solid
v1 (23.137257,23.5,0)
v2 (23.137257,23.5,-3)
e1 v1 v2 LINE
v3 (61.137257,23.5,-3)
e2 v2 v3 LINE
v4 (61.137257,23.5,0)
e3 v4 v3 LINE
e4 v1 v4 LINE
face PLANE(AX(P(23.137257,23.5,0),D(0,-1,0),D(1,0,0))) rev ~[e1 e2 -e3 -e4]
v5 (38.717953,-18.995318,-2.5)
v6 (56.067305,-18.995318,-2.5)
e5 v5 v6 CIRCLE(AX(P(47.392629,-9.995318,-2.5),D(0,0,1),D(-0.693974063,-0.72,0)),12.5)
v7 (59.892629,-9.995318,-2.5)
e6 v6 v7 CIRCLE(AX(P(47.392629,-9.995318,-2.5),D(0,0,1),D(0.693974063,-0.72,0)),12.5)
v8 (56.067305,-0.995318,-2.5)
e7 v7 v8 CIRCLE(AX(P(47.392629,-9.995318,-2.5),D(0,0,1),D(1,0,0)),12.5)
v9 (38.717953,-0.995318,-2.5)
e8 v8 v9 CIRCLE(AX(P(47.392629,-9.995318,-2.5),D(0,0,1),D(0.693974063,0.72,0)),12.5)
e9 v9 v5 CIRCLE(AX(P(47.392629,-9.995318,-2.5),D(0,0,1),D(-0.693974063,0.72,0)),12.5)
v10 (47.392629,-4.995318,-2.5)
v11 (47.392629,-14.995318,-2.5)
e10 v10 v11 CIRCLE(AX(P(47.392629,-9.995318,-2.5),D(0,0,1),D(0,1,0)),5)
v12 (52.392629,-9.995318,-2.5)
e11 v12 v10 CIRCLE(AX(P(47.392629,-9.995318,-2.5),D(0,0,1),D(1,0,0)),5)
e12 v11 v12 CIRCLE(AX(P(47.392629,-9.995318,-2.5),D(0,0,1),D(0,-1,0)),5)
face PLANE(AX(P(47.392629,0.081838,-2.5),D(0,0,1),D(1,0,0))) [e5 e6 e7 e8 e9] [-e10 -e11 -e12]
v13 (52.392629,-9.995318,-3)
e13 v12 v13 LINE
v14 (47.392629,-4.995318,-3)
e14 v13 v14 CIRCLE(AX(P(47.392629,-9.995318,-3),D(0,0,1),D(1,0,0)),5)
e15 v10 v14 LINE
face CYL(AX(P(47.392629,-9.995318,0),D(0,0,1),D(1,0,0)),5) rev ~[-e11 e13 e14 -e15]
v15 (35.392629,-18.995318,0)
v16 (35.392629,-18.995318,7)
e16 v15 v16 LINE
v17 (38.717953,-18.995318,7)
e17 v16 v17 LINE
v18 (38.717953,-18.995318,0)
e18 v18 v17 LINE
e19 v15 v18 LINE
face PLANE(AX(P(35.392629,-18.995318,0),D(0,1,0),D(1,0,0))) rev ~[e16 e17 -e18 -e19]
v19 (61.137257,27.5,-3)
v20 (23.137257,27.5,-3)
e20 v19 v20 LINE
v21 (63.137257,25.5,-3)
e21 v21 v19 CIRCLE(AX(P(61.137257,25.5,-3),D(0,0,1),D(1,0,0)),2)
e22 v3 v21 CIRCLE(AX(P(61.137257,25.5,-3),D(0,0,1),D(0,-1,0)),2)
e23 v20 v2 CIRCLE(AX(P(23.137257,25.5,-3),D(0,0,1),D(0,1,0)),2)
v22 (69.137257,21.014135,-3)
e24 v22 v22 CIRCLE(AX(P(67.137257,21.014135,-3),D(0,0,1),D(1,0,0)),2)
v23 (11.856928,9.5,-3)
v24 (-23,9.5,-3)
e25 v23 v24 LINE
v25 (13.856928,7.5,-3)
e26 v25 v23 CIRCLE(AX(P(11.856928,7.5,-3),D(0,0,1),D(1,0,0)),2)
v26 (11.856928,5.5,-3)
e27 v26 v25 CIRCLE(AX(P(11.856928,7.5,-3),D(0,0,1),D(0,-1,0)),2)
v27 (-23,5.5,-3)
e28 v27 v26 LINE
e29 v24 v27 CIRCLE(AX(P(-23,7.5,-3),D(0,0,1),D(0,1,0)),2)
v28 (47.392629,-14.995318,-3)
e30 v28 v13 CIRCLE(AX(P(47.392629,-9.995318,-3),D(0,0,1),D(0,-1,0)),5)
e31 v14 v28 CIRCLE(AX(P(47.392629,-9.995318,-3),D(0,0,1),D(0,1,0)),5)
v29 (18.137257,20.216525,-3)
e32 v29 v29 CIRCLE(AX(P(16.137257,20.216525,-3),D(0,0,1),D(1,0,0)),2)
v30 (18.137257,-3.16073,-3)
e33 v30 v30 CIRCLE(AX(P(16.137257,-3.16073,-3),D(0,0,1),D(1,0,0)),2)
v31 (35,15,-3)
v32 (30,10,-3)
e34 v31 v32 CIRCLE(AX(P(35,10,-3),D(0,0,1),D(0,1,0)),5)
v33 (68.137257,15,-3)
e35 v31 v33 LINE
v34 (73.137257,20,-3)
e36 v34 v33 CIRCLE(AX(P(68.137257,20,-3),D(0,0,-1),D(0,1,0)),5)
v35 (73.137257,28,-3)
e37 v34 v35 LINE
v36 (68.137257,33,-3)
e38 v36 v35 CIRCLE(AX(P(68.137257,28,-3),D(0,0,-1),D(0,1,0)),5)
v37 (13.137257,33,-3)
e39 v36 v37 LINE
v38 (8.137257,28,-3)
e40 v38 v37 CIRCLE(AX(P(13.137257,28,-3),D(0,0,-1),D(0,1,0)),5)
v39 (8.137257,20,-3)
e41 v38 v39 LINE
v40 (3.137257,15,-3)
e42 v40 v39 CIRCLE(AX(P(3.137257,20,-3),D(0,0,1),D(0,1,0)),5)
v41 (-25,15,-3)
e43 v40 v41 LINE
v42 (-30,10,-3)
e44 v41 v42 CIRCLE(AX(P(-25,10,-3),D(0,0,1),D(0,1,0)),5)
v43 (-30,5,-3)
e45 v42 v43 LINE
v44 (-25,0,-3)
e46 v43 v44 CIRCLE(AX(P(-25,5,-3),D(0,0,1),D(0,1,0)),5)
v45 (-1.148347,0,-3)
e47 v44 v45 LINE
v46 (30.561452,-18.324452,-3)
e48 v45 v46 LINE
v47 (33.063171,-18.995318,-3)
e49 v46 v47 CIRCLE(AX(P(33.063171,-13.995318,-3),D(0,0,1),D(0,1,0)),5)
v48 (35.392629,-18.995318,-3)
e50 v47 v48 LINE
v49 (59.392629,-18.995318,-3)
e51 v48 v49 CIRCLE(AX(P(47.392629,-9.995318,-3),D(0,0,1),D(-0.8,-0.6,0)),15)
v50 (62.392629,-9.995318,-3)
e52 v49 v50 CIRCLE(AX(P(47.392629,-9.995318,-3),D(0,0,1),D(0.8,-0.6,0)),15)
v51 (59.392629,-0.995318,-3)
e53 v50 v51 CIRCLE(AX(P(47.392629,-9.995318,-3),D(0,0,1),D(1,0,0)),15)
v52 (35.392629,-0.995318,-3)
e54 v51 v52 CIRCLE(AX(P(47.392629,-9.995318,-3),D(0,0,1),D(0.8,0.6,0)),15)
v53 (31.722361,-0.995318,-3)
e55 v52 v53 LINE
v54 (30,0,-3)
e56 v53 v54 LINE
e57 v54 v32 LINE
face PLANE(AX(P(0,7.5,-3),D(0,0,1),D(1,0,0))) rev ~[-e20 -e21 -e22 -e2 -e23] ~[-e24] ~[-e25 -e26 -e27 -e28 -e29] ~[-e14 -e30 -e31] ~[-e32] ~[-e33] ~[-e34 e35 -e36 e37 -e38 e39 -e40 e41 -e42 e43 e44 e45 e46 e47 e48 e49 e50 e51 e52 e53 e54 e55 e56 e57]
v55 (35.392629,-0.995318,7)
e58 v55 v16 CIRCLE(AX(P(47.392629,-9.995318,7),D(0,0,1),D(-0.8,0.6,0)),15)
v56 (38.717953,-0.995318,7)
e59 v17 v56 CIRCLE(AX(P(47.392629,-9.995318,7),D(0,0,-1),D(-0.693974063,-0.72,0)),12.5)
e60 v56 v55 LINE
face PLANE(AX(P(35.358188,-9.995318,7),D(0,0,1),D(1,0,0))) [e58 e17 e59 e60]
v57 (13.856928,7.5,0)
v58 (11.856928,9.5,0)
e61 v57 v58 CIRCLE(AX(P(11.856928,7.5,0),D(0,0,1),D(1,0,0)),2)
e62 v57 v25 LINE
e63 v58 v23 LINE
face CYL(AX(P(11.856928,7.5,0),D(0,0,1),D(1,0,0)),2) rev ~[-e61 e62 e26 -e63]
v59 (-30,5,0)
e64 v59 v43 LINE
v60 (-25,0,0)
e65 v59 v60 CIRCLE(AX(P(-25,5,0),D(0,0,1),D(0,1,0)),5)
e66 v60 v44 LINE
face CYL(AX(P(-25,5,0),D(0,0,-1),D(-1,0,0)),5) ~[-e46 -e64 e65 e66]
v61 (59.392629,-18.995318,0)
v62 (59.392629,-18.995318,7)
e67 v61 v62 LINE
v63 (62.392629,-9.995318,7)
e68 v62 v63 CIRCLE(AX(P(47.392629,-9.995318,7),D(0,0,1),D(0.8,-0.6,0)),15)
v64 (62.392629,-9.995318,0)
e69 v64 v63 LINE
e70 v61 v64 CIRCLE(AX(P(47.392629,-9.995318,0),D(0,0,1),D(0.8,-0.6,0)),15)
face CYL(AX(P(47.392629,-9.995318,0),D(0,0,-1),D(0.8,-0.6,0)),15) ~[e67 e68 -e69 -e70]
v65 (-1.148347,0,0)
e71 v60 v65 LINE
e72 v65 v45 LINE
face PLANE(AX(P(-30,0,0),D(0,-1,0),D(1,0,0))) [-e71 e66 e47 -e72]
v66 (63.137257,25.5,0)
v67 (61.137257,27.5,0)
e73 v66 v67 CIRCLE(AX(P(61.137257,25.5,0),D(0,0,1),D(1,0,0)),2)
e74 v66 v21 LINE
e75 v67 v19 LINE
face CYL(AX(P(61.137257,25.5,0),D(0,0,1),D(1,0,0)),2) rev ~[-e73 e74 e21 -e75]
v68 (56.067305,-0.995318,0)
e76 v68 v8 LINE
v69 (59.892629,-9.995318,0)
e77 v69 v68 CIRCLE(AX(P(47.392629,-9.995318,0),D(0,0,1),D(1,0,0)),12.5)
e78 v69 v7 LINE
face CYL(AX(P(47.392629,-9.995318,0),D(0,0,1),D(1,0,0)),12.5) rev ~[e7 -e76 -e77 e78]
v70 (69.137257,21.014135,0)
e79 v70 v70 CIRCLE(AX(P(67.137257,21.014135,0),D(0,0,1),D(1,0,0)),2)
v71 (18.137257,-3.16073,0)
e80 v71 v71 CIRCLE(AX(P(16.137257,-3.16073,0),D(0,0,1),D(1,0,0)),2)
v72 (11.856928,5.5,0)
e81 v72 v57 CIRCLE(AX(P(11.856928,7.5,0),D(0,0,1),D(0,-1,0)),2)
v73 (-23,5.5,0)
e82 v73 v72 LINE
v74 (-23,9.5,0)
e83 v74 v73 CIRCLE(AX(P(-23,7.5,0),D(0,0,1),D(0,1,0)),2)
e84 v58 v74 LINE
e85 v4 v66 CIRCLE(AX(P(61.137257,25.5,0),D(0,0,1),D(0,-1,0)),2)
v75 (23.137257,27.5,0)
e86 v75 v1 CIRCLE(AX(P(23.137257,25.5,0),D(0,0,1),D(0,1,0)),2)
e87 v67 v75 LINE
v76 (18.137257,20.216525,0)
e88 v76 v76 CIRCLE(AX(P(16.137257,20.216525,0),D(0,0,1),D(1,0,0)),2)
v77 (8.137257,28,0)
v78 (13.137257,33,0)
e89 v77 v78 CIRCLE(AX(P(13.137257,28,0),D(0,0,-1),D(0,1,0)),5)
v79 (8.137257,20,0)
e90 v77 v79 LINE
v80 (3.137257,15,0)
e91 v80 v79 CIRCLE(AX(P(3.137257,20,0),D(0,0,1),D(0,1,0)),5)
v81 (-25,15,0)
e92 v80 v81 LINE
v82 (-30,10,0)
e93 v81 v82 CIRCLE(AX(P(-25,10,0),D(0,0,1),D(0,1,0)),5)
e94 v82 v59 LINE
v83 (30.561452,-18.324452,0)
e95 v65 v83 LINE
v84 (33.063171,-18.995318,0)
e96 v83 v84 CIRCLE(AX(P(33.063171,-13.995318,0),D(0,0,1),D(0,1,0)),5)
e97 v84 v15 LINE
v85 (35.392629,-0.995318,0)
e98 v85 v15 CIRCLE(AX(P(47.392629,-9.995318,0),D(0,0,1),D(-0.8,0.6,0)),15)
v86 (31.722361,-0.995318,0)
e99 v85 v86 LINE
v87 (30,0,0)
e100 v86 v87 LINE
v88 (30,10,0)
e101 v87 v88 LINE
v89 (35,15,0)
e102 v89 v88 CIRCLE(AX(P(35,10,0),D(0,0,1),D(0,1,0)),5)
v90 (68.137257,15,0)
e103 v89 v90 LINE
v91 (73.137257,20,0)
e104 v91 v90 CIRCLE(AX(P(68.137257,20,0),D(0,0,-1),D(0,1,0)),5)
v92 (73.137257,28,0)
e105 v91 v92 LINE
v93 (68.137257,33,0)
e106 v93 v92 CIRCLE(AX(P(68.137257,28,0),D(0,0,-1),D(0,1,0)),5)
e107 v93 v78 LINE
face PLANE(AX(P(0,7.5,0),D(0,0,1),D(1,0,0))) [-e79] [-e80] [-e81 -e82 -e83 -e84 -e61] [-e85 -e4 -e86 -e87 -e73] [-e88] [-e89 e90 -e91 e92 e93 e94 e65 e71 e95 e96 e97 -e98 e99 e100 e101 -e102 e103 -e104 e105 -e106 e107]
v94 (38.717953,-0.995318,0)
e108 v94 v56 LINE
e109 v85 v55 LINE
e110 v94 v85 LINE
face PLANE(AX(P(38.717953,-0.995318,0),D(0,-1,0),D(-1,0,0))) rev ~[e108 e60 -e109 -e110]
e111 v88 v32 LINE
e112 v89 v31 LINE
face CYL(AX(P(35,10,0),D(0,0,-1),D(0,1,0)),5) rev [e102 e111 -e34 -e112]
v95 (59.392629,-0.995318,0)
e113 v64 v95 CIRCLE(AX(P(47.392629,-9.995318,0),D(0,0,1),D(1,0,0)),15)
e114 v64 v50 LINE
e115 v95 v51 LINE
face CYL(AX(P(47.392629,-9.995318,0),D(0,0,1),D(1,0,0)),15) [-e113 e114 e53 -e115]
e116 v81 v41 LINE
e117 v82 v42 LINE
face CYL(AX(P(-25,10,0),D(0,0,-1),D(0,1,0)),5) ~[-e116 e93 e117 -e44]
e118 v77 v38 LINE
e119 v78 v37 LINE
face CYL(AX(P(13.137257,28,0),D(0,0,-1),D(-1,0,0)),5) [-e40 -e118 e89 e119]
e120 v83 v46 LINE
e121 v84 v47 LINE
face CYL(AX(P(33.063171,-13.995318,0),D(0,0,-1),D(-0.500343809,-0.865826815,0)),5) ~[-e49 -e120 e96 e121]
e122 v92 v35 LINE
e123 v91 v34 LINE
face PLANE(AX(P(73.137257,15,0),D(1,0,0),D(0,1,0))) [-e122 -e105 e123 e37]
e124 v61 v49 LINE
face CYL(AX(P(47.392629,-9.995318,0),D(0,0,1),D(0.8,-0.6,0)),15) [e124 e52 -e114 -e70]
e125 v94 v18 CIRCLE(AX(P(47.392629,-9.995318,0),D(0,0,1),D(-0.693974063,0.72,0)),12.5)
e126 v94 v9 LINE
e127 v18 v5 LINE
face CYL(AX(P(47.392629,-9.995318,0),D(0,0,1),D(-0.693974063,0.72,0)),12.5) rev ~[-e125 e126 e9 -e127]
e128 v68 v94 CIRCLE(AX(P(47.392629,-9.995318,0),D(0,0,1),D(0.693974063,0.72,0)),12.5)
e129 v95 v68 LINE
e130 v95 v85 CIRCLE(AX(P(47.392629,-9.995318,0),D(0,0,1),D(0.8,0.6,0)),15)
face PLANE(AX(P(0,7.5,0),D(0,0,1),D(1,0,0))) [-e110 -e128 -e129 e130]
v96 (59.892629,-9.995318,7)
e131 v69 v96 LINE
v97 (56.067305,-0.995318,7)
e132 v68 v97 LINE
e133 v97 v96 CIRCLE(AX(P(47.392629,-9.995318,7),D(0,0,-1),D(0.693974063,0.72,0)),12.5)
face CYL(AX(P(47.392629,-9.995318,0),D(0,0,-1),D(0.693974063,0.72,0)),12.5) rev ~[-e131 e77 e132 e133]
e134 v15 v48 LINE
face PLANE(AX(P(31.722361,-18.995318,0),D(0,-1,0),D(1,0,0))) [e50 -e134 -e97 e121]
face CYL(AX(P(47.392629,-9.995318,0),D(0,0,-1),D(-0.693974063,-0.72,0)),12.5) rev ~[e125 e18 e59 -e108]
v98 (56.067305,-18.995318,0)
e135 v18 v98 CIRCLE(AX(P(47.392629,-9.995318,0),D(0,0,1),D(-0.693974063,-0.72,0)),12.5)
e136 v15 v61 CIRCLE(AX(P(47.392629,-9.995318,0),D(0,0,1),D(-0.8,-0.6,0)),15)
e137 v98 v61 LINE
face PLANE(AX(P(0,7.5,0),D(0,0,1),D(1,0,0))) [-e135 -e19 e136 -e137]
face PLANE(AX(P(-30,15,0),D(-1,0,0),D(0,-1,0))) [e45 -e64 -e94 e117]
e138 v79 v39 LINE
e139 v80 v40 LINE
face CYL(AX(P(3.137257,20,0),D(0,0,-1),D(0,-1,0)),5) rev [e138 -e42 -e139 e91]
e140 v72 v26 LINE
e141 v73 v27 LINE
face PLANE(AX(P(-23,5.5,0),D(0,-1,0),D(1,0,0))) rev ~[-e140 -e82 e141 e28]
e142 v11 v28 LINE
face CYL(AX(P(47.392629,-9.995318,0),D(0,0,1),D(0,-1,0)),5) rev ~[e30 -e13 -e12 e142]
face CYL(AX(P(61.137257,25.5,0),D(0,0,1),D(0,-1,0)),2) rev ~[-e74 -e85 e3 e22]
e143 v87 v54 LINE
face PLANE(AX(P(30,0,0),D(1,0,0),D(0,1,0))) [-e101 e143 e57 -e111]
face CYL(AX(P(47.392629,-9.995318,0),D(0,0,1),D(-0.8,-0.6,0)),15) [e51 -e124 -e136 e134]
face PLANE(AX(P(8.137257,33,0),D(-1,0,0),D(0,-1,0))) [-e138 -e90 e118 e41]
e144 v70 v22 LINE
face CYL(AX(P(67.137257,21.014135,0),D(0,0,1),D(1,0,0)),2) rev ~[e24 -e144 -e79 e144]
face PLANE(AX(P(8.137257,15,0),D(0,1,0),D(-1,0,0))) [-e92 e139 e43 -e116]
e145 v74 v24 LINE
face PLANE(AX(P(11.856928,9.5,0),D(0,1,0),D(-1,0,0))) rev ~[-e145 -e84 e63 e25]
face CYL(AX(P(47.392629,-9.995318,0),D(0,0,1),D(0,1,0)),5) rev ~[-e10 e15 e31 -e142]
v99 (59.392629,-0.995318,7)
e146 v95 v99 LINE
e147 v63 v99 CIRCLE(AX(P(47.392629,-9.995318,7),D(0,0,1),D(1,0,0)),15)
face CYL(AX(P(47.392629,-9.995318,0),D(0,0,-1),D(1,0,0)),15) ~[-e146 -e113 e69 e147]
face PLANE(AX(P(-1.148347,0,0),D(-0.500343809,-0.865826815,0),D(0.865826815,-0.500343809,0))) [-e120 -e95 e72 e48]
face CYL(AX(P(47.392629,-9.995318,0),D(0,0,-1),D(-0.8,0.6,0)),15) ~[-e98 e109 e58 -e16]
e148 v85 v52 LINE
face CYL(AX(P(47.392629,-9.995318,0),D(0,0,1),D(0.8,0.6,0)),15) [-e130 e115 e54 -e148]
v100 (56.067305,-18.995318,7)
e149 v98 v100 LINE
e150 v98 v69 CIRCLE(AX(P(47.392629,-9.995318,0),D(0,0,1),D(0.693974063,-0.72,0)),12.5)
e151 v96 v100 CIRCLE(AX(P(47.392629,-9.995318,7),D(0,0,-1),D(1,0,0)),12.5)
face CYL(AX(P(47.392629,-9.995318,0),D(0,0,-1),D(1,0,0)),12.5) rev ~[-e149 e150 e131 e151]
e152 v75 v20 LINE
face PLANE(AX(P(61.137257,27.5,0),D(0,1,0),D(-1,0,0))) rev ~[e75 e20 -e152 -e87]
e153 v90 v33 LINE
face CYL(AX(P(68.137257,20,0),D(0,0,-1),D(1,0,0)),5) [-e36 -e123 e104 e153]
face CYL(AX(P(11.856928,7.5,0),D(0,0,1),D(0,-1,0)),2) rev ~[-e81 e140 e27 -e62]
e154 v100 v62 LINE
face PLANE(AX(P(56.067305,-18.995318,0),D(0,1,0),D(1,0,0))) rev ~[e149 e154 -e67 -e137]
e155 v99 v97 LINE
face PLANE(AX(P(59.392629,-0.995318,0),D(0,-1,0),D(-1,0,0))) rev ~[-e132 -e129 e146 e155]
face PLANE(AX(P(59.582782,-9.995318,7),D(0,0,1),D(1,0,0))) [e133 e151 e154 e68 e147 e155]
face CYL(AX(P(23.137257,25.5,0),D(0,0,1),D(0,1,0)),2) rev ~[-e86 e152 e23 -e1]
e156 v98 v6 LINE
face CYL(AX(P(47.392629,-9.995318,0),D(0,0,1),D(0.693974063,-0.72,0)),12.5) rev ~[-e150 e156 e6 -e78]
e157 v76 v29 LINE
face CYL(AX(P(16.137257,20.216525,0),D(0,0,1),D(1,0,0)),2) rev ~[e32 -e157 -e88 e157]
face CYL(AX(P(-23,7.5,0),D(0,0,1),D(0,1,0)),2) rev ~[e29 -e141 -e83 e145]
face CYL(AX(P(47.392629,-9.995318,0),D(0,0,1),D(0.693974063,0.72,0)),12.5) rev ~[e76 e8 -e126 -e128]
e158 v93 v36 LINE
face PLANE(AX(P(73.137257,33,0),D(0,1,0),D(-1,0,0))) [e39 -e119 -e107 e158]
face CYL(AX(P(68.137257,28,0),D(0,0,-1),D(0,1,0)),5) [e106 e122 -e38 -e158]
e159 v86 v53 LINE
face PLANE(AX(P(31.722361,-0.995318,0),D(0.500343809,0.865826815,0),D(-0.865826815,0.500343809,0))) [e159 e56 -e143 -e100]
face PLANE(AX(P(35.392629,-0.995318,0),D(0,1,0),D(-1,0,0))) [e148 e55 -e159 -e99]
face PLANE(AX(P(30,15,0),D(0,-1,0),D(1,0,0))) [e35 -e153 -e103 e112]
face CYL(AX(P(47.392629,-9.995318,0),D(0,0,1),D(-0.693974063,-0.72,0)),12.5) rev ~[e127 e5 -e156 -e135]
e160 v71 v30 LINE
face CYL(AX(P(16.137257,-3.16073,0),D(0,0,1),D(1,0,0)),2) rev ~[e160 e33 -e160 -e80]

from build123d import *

# Parameters (mm, degrees)
F0_R     = 2
F0_W     = 21.8627425395
F0_H     = 3
F2_DEPTH = 3
F3_DEPTH = 2.5
F4_DEPTH = 3.001
F5_DEPTH = 3
F6_R     = 5
F7_DEPTH = 7


with BuildPart() as f2:
    # F0 (on Top) → F2 (new body)
    with BuildSketch(Plane.XY):
        Polygon((8.1372574605, 15), (-30, 15), (-30, 0), (-1.1483471663, 0), (30, 0), (30, 15), align=None)
        with BuildLine():
            ThreePointArc((-23, 5.5), (-25, 7.5), (-23, 9.5))
            Line((-23, 9.5), (11.8569275364, 9.5))
            ThreePointArc((11.8569275364, 9.5), (13.2711410988, 8.9142135624), (13.8569275364, 7.5))
            ThreePointArc((13.8569275364, 7.5), (13.2711410988, 6.0857864376), (11.8569275364, 5.5))
            Line((11.8569275364, 5.5), (-23, 5.5))
        make_face(mode=Mode.SUBTRACT)
        Polygon((30, 0), (-1.1483471663, 0), (31.7223609335, -18.9953175569), (31.7223609335, -0.9953175569), align=None)
        with Locations((16.1372574605, -3.1607300043)):
            Circle(F0_R, mode=Mode.SUBTRACT)
        with BuildLine():
            Line((8.1372574605, 33), (8.1372574605, 18))
            Line((8.1372574605, 18), (30, 18))
            Line((30, 18), (40.6372574605, 18))
            Line((40.6372574605, 18), (40.6372574605, 23.5))
            Line((40.6372574605, 23.5), (23.1372574605, 23.5))
            ThreePointArc((23.1372574605, 23.5), (21.1372574605, 25.5), (23.1372574605, 27.5))
            Line((23.1372574605, 27.5), (40.6372574605, 27.5))
            Line((40.6372574605, 27.5), (40.6372574605, 33))
            Line((40.6372574605, 33), (8.1372574605, 33))
        make_face()
        with Locations((16.1372574605, 20.216524601)):
            Circle(F0_R, mode=Mode.SUBTRACT)
        with BuildLine():
            Line((40.6372574605, 23.5), (40.6372574605, 18))
            Line((40.6372574605, 18), (73.1372574605, 18))
            Line((73.1372574605, 18), (73.1372574605, 33))
            Line((73.1372574605, 33), (40.6372574605, 33))
            Line((40.6372574605, 33), (40.6372574605, 27.5))
            Line((40.6372574605, 27.5), (61.1372574605, 27.5))
            ThreePointArc((61.1372574605, 27.5), (62.5514710229, 26.9142135624), (63.1372574605, 25.5))
            ThreePointArc((63.1372574605, 25.5), (62.5514710229, 24.0857864376), (61.1372574605, 23.5))
            Line((61.1372574605, 23.5), (40.6372574605, 23.5))
        make_face()
        with Locations((67.1372574605, 21.0141353309)):
            Circle(F0_R, mode=Mode.SUBTRACT)
        with Locations((19.0686287303, 16.5)):
            Rectangle(F0_W, F0_H)
        with BuildLine():
            Line((31.7223609335, -0.9953175569), (31.7223609335, -18.9953175569))
            Line((31.7223609335, -18.9953175569), (35.3926290005, -18.9953175569))
            ThreePointArc((35.3926290005, -18.9953175569), (32.3926290005, -9.9953175569), (35.3926290005, -0.9953175569))
            Line((35.3926290005, -0.9953175569), (31.7223609335, -0.9953175569))
        make_face()
        with BuildLine():
            ThreePointArc((35.3926290005, -0.9953175569), (32.3926290005, -9.9953175569), (35.3926290005, -18.9953175569))
            Line((35.3926290005, -18.9953175569), (38.717953214, -18.9953175569))
            ThreePointArc((38.717953214, -18.9953175569), (34.8926290005, -9.9953175569), (38.717953214, -0.9953175569))
            Line((38.717953214, -0.9953175569), (35.3926290005, -0.9953175569))
        make_face()
        with BuildLine():
            ThreePointArc((38.717953214, -0.9953175569), (34.8926290005, -9.9953175569), (38.717953214, -18.9953175569))
            Line((38.717953214, -18.9953175569), (47.3926290005, -18.9953175569))
            Line((47.3926290005, -18.9953175569), (47.3926290005, -0.9953175569))
            Line((47.3926290005, -0.9953175569), (38.717953214, -0.9953175569))
        make_face()
        with BuildLine():
            ThreePointArc((56.0673047869, -0.9953175569), (47.3926290005, 2.5046824431), (38.717953214, -0.9953175569))
            Line((38.717953214, -0.9953175569), (47.3926290005, -0.9953175569))
            Line((47.3926290005, -0.9953175569), (56.0673047869, -0.9953175569))
        make_face()
        with BuildLine():
            Line((47.3926290005, -18.9953175569), (56.0673047869, -18.9953175569))
            ThreePointArc((56.0673047869, -18.9953175569), (58.8966162947, -14.8849265734), (59.8926290005, -9.9953175569))
            ThreePointArc((59.8926290005, -9.9953175569), (58.8966162947, -5.1057085403), (56.0673047869, -0.9953175569))
            Line((56.0673047869, -0.9953175569), (47.3926290005, -0.9953175569))
            Line((47.3926290005, -0.9953175569), (47.3926290005, -18.9953175569))
        make_face()
        with BuildLine():
            Line((56.0673047869, -18.9953175569), (59.3926290005, -18.9953175569))
            ThreePointArc((59.3926290005, -18.9953175569), (61.6228784712, -14.7387340471), (62.3926290005, -9.9953175569))
            ThreePointArc((62.3926290005, -9.9953175569), (61.6228784712, -5.2519010666), (59.3926290005, -0.9953175569))
            Line((59.3926290005, -0.9953175569), (56.0673047869, -0.9953175569))
            ThreePointArc((56.0673047869, -0.9953175569), (58.8966162947, -5.1057085403), (59.8926290005, -9.9953175569))
            ThreePointArc((59.8926290005, -9.9953175569), (58.8966162947, -14.8849265734), (56.0673047869, -18.9953175569))
        make_face()
        with BuildLine():
            Line((38.717953214, -18.9953175569), (35.3926290005, -18.9953175569))
            ThreePointArc((35.3926290005, -18.9953175569), (47.3926290005, -24.9953175569), (59.3926290005, -18.9953175569))
            Line((59.3926290005, -18.9953175569), (56.0673047869, -18.9953175569))
            ThreePointArc((56.0673047869, -18.9953175569), (47.3926290005, -22.4953175569), (38.717953214, -18.9953175569))
        make_face()
        with BuildLine():
            Line((47.3926290005, -18.9953175569), (38.717953214, -18.9953175569))
            ThreePointArc((38.717953214, -18.9953175569), (47.3926290005, -22.4953175569), (56.0673047869, -18.9953175569))
            Line((56.0673047869, -18.9953175569), (47.3926290005, -18.9953175569))
        make_face()
        with BuildLine():
            ThreePointArc((59.3926290005, -0.9953175569), (47.3926290005, 5.0046824431), (35.3926290005, -0.9953175569))
            Line((35.3926290005, -0.9953175569), (38.717953214, -0.9953175569))
            ThreePointArc((38.717953214, -0.9953175569), (47.3926290005, 2.5046824431), (56.0673047869, -0.9953175569))
            Line((56.0673047869, -0.9953175569), (59.3926290005, -0.9953175569))
        make_face()
        with BuildLine():
            ThreePointArc((-23, 9.5), (-21.5857864376, 8.9142135624), (-21, 7.5))
            ThreePointArc((-21, 7.5), (-21.5857864376, 6.0857864376), (-23, 5.5))
            Line((-23, 5.5), (11.8569275364, 5.5))
            ThreePointArc((11.8569275364, 5.5), (9.8569275364, 7.5), (11.8569275364, 9.5))
            Line((11.8569275364, 9.5), (-23, 9.5))
        make_face()
        with BuildLine():
            Line((11.8569275364, 7.5), (11.8569275364, 9.5))
            ThreePointArc((11.8569275364, 9.5), (9.8569275364, 7.5), (11.8569275364, 5.5))
            Line((11.8569275364, 5.5), (11.8569275364, 7.5))
        make_face()
        with BuildLine():
            ThreePointArc((13.8569275364, 7.5), (13.2711410988, 8.9142135624), (11.8569275364, 9.5))
            Line((11.8569275364, 9.5), (11.8569275364, 7.5))
            Line((11.8569275364, 7.5), (11.8569275364, 5.5))
            ThreePointArc((11.8569275364, 5.5), (13.2711410988, 6.0857864376), (13.8569275364, 7.5))
        make_face()
        with BuildLine():
            Line((-23, 7.5), (-23, 9.5))
            ThreePointArc((-23, 9.5), (-25, 7.5), (-23, 5.5))
            Line((-23, 5.5), (-23, 7.5))
        make_face()
        with BuildLine():
            ThreePointArc((-23, 5.5), (-21.5857864376, 6.0857864376), (-21, 7.5))
            ThreePointArc((-21, 7.5), (-21.5857864376, 8.9142135624), (-23, 9.5))
            Line((-23, 9.5), (-23, 7.5))
            Line((-23, 7.5), (-23, 5.5))
        make_face()
        with BuildLine():
            ThreePointArc((23.1372574605, 27.5), (21.1372574605, 25.5), (23.1372574605, 23.5))
            Line((23.1372574605, 23.5), (23.1372574605, 25.5))
            Line((23.1372574605, 25.5), (23.1372574605, 27.5))
        make_face()
        with BuildLine():
            Line((23.1372574605, 25.5), (23.1372574605, 23.5))
            ThreePointArc((23.1372574605, 23.5), (24.5514710229, 24.0857864376), (25.1372574605, 25.5))
            ThreePointArc((25.1372574605, 25.5), (24.5514710229, 26.9142135624), (23.1372574605, 27.5))
            Line((23.1372574605, 27.5), (23.1372574605, 25.5))
        make_face()
        with BuildLine():
            Line((23.1372574605, 23.5), (40.6372574605, 23.5))
            Line((40.6372574605, 23.5), (40.6372574605, 25.5))
            Line((40.6372574605, 25.5), (40.6372574605, 27.5))
            Line((40.6372574605, 27.5), (23.1372574605, 27.5))
            ThreePointArc((23.1372574605, 27.5), (24.5514710229, 26.9142135624), (25.1372574605, 25.5))
            ThreePointArc((25.1372574605, 25.5), (24.5514710229, 24.0857864376), (23.1372574605, 23.5))
        make_face()
        with BuildLine():
            Line((40.6372574605, 25.5), (40.6372574605, 23.5))
            Line((40.6372574605, 23.5), (61.1372574605, 23.5))
            ThreePointArc((61.1372574605, 23.5), (59.1372574605, 25.5), (61.1372574605, 27.5))
            Line((61.1372574605, 27.5), (40.6372574605, 27.5))
            Line((40.6372574605, 27.5), (40.6372574605, 25.5))
        make_face()
        with BuildLine():
            ThreePointArc((61.1372574605, 27.5), (59.1372574605, 25.5), (61.1372574605, 23.5))
            Line((61.1372574605, 23.5), (61.1372574605, 25.5))
            Line((61.1372574605, 25.5), (61.1372574605, 27.5))
        make_face()
        with BuildLine():
            Line((61.1372574605, 25.5), (61.1372574605, 23.5))
            ThreePointArc((61.1372574605, 23.5), (62.5514710229, 24.0857864376), (63.1372574605, 25.5))
            ThreePointArc((63.1372574605, 25.5), (62.5514710229, 26.9142135624), (61.1372574605, 27.5))
            Line((61.1372574605, 27.5), (61.1372574605, 25.5))
        make_face()
        Polygon((30, 18), (30, 15), (73.1372574605, 15), (73.1372574605, 18), (40.6372574605, 18), align=None)
    extrude(amount=-F2_DEPTH)

    # F0 (on Top) → F3 (cut)
    with BuildSketch(Plane.XY):
        with BuildLine():
            ThreePointArc((56.0673047869, -0.9953175569), (47.3926290005, 2.5046824431), (38.717953214, -0.9953175569))
            Line((38.717953214, -0.9953175569), (47.3926290005, -0.9953175569))
            Line((47.3926290005, -0.9953175569), (56.0673047869, -0.9953175569))
        make_face()
        with BuildLine():
            ThreePointArc((38.717953214, -0.9953175569), (34.8926290005, -9.9953175569), (38.717953214, -18.9953175569))
            Line((38.717953214, -18.9953175569), (47.3926290005, -18.9953175569))
            Line((47.3926290005, -18.9953175569), (47.3926290005, -0.9953175569))
            Line((47.3926290005, -0.9953175569), (38.717953214, -0.9953175569))
        make_face()
        with BuildLine():
            Line((47.3926290005, -18.9953175569), (56.0673047869, -18.9953175569))
            ThreePointArc((56.0673047869, -18.9953175569), (58.8966162947, -14.8849265734), (59.8926290005, -9.9953175569))
            ThreePointArc((59.8926290005, -9.9953175569), (58.8966162947, -5.1057085403), (56.0673047869, -0.9953175569))
            Line((56.0673047869, -0.9953175569), (47.3926290005, -0.9953175569))
            Line((47.3926290005, -0.9953175569), (47.3926290005, -18.9953175569))
        make_face()
        with BuildLine():
            Line((47.3926290005, -18.9953175569), (38.717953214, -18.9953175569))
            ThreePointArc((38.717953214, -18.9953175569), (47.3926290005, -22.4953175569), (56.0673047869, -18.9953175569))
            Line((56.0673047869, -18.9953175569), (47.3926290005, -18.9953175569))
        make_face()
    extrude(amount=-F3_DEPTH, mode=Mode.SUBTRACT)

    # F1 (on face) → F4 (cut, through all)
    with BuildSketch(Plane.XY):
        with BuildLine():
            Line((47.3926290005, -14.9953175569), (47.3926290005, -4.9953175569))
            ThreePointArc((47.3926290005, -4.9953175569), (42.3926290005, -9.9953175569), (47.3926290005, -14.9953175569))
        make_face()
        with BuildLine():
            ThreePointArc((47.3926290005, -14.9953175569), (50.9281629064, -13.5308514628), (52.3926290005, -9.9953175569))
            ThreePointArc((52.3926290005, -9.9953175569), (50.9281629064, -6.459783651), (47.3926290005, -4.9953175569))
            Line((47.3926290005, -4.9953175569), (47.3926290005, -14.9953175569))
        make_face()
    extrude(amount=-F4_DEPTH, mode=Mode.SUBTRACT)

    # F0 (on Top) → F5 (cut, through all)
    with BuildSketch(Plane.XY):
        with BuildLine():
            ThreePointArc((23.1372574605, 27.5), (21.1372574605, 25.5), (23.1372574605, 23.5))
            Line((23.1372574605, 23.5), (23.1372574605, 25.5))
            Line((23.1372574605, 25.5), (23.1372574605, 27.5))
        make_face()
        with BuildLine():
            Line((23.1372574605, 25.5), (23.1372574605, 23.5))
            ThreePointArc((23.1372574605, 23.5), (24.5514710229, 24.0857864376), (25.1372574605, 25.5))
            ThreePointArc((25.1372574605, 25.5), (24.5514710229, 26.9142135624), (23.1372574605, 27.5))
            Line((23.1372574605, 27.5), (23.1372574605, 25.5))
        make_face()
        with BuildLine():
            Line((23.1372574605, 23.5), (40.6372574605, 23.5))
            Line((40.6372574605, 23.5), (40.6372574605, 25.5))
            Line((40.6372574605, 25.5), (40.6372574605, 27.5))
            Line((40.6372574605, 27.5), (23.1372574605, 27.5))
            ThreePointArc((23.1372574605, 27.5), (24.5514710229, 26.9142135624), (25.1372574605, 25.5))
            ThreePointArc((25.1372574605, 25.5), (24.5514710229, 24.0857864376), (23.1372574605, 23.5))
        make_face()
        with BuildLine():
            Line((40.6372574605, 25.5), (40.6372574605, 23.5))
            Line((40.6372574605, 23.5), (61.1372574605, 23.5))
            ThreePointArc((61.1372574605, 23.5), (59.1372574605, 25.5), (61.1372574605, 27.5))
            Line((61.1372574605, 27.5), (40.6372574605, 27.5))
            Line((40.6372574605, 27.5), (40.6372574605, 25.5))
        make_face()
        with BuildLine():
            ThreePointArc((61.1372574605, 27.5), (59.1372574605, 25.5), (61.1372574605, 23.5))
            Line((61.1372574605, 23.5), (61.1372574605, 25.5))
            Line((61.1372574605, 25.5), (61.1372574605, 27.5))
        make_face()
        with BuildLine():
            Line((61.1372574605, 25.5), (61.1372574605, 23.5))
            ThreePointArc((61.1372574605, 23.5), (62.5514710229, 24.0857864376), (63.1372574605, 25.5))
            ThreePointArc((63.1372574605, 25.5), (62.5514710229, 26.9142135624), (61.1372574605, 27.5))
            Line((61.1372574605, 27.5), (61.1372574605, 25.5))
        make_face()
        with BuildLine():
            ThreePointArc((13.8569275364, 7.5), (13.2711410988, 8.9142135624), (11.8569275364, 9.5))
            Line((11.8569275364, 9.5), (11.8569275364, 7.5))
            Line((11.8569275364, 7.5), (11.8569275364, 5.5))
            ThreePointArc((11.8569275364, 5.5), (13.2711410988, 6.0857864376), (13.8569275364, 7.5))
        make_face()
        with BuildLine():
            Line((11.8569275364, 7.5), (11.8569275364, 9.5))
            ThreePointArc((11.8569275364, 9.5), (9.8569275364, 7.5), (11.8569275364, 5.5))
            Line((11.8569275364, 5.5), (11.8569275364, 7.5))
        make_face()
        with BuildLine():
            ThreePointArc((-23, 9.5), (-21.5857864376, 8.9142135624), (-21, 7.5))
            ThreePointArc((-21, 7.5), (-21.5857864376, 6.0857864376), (-23, 5.5))
            Line((-23, 5.5), (11.8569275364, 5.5))
            ThreePointArc((11.8569275364, 5.5), (9.8569275364, 7.5), (11.8569275364, 9.5))
            Line((11.8569275364, 9.5), (-23, 9.5))
        make_face()
        with BuildLine():
            ThreePointArc((-23, 5.5), (-21.5857864376, 6.0857864376), (-21, 7.5))
            ThreePointArc((-21, 7.5), (-21.5857864376, 8.9142135624), (-23, 9.5))
            Line((-23, 9.5), (-23, 7.5))
            Line((-23, 7.5), (-23, 5.5))
        make_face()
        with BuildLine():
            Line((-23, 7.5), (-23, 9.5))
            ThreePointArc((-23, 9.5), (-25, 7.5), (-23, 5.5))
            Line((-23, 5.5), (-23, 7.5))
        make_face()
    extrude(amount=-F5_DEPTH, mode=Mode.SUBTRACT)

    # F6
    f6_edges = [f2.edges().sort_by_distance(p)[0] for p in [
        (8.137257, 33, -1.5),
        (-30, 15, -1.5),
        (-30, 0, -1.5),
        (31.722361, -18.995318, -1.5),
        (73.137257, 33, -1.5),
        (73.137257, 15, -1.5),
        (30, 15, -1.5),
        (8.137257, 15, -1.5),
    ]]
    fillet(f6_edges, radius=F6_R)

    # F0 (on Top) → F7 (join)
    with BuildSketch(Plane.XY):
        with BuildLine():
            Line((56.0673047869, -18.9953175569), (59.3926290005, -18.9953175569))
            ThreePointArc((59.3926290005, -18.9953175569), (61.6228784712, -14.7387340471), (62.3926290005, -9.9953175569))
            ThreePointArc((62.3926290005, -9.9953175569), (61.6228784712, -5.2519010666), (59.3926290005, -0.9953175569))
            Line((59.3926290005, -0.9953175569), (56.0673047869, -0.9953175569))
            ThreePointArc((56.0673047869, -0.9953175569), (58.8966162947, -5.1057085403), (59.8926290005, -9.9953175569))
            ThreePointArc((59.8926290005, -9.9953175569), (58.8966162947, -14.8849265734), (56.0673047869, -18.9953175569))
        make_face()
        with BuildLine():
            ThreePointArc((35.3926290005, -0.9953175569), (32.3926290005, -9.9953175569), (35.3926290005, -18.9953175569))
            Line((35.3926290005, -18.9953175569), (38.717953214, -18.9953175569))
            ThreePointArc((38.717953214, -18.9953175569), (34.8926290005, -9.9953175569), (38.717953214, -0.9953175569))
            Line((38.717953214, -0.9953175569), (35.3926290005, -0.9953175569))
        make_face()
    extrude(amount=F7_DEPTH)


solid = f2.part
